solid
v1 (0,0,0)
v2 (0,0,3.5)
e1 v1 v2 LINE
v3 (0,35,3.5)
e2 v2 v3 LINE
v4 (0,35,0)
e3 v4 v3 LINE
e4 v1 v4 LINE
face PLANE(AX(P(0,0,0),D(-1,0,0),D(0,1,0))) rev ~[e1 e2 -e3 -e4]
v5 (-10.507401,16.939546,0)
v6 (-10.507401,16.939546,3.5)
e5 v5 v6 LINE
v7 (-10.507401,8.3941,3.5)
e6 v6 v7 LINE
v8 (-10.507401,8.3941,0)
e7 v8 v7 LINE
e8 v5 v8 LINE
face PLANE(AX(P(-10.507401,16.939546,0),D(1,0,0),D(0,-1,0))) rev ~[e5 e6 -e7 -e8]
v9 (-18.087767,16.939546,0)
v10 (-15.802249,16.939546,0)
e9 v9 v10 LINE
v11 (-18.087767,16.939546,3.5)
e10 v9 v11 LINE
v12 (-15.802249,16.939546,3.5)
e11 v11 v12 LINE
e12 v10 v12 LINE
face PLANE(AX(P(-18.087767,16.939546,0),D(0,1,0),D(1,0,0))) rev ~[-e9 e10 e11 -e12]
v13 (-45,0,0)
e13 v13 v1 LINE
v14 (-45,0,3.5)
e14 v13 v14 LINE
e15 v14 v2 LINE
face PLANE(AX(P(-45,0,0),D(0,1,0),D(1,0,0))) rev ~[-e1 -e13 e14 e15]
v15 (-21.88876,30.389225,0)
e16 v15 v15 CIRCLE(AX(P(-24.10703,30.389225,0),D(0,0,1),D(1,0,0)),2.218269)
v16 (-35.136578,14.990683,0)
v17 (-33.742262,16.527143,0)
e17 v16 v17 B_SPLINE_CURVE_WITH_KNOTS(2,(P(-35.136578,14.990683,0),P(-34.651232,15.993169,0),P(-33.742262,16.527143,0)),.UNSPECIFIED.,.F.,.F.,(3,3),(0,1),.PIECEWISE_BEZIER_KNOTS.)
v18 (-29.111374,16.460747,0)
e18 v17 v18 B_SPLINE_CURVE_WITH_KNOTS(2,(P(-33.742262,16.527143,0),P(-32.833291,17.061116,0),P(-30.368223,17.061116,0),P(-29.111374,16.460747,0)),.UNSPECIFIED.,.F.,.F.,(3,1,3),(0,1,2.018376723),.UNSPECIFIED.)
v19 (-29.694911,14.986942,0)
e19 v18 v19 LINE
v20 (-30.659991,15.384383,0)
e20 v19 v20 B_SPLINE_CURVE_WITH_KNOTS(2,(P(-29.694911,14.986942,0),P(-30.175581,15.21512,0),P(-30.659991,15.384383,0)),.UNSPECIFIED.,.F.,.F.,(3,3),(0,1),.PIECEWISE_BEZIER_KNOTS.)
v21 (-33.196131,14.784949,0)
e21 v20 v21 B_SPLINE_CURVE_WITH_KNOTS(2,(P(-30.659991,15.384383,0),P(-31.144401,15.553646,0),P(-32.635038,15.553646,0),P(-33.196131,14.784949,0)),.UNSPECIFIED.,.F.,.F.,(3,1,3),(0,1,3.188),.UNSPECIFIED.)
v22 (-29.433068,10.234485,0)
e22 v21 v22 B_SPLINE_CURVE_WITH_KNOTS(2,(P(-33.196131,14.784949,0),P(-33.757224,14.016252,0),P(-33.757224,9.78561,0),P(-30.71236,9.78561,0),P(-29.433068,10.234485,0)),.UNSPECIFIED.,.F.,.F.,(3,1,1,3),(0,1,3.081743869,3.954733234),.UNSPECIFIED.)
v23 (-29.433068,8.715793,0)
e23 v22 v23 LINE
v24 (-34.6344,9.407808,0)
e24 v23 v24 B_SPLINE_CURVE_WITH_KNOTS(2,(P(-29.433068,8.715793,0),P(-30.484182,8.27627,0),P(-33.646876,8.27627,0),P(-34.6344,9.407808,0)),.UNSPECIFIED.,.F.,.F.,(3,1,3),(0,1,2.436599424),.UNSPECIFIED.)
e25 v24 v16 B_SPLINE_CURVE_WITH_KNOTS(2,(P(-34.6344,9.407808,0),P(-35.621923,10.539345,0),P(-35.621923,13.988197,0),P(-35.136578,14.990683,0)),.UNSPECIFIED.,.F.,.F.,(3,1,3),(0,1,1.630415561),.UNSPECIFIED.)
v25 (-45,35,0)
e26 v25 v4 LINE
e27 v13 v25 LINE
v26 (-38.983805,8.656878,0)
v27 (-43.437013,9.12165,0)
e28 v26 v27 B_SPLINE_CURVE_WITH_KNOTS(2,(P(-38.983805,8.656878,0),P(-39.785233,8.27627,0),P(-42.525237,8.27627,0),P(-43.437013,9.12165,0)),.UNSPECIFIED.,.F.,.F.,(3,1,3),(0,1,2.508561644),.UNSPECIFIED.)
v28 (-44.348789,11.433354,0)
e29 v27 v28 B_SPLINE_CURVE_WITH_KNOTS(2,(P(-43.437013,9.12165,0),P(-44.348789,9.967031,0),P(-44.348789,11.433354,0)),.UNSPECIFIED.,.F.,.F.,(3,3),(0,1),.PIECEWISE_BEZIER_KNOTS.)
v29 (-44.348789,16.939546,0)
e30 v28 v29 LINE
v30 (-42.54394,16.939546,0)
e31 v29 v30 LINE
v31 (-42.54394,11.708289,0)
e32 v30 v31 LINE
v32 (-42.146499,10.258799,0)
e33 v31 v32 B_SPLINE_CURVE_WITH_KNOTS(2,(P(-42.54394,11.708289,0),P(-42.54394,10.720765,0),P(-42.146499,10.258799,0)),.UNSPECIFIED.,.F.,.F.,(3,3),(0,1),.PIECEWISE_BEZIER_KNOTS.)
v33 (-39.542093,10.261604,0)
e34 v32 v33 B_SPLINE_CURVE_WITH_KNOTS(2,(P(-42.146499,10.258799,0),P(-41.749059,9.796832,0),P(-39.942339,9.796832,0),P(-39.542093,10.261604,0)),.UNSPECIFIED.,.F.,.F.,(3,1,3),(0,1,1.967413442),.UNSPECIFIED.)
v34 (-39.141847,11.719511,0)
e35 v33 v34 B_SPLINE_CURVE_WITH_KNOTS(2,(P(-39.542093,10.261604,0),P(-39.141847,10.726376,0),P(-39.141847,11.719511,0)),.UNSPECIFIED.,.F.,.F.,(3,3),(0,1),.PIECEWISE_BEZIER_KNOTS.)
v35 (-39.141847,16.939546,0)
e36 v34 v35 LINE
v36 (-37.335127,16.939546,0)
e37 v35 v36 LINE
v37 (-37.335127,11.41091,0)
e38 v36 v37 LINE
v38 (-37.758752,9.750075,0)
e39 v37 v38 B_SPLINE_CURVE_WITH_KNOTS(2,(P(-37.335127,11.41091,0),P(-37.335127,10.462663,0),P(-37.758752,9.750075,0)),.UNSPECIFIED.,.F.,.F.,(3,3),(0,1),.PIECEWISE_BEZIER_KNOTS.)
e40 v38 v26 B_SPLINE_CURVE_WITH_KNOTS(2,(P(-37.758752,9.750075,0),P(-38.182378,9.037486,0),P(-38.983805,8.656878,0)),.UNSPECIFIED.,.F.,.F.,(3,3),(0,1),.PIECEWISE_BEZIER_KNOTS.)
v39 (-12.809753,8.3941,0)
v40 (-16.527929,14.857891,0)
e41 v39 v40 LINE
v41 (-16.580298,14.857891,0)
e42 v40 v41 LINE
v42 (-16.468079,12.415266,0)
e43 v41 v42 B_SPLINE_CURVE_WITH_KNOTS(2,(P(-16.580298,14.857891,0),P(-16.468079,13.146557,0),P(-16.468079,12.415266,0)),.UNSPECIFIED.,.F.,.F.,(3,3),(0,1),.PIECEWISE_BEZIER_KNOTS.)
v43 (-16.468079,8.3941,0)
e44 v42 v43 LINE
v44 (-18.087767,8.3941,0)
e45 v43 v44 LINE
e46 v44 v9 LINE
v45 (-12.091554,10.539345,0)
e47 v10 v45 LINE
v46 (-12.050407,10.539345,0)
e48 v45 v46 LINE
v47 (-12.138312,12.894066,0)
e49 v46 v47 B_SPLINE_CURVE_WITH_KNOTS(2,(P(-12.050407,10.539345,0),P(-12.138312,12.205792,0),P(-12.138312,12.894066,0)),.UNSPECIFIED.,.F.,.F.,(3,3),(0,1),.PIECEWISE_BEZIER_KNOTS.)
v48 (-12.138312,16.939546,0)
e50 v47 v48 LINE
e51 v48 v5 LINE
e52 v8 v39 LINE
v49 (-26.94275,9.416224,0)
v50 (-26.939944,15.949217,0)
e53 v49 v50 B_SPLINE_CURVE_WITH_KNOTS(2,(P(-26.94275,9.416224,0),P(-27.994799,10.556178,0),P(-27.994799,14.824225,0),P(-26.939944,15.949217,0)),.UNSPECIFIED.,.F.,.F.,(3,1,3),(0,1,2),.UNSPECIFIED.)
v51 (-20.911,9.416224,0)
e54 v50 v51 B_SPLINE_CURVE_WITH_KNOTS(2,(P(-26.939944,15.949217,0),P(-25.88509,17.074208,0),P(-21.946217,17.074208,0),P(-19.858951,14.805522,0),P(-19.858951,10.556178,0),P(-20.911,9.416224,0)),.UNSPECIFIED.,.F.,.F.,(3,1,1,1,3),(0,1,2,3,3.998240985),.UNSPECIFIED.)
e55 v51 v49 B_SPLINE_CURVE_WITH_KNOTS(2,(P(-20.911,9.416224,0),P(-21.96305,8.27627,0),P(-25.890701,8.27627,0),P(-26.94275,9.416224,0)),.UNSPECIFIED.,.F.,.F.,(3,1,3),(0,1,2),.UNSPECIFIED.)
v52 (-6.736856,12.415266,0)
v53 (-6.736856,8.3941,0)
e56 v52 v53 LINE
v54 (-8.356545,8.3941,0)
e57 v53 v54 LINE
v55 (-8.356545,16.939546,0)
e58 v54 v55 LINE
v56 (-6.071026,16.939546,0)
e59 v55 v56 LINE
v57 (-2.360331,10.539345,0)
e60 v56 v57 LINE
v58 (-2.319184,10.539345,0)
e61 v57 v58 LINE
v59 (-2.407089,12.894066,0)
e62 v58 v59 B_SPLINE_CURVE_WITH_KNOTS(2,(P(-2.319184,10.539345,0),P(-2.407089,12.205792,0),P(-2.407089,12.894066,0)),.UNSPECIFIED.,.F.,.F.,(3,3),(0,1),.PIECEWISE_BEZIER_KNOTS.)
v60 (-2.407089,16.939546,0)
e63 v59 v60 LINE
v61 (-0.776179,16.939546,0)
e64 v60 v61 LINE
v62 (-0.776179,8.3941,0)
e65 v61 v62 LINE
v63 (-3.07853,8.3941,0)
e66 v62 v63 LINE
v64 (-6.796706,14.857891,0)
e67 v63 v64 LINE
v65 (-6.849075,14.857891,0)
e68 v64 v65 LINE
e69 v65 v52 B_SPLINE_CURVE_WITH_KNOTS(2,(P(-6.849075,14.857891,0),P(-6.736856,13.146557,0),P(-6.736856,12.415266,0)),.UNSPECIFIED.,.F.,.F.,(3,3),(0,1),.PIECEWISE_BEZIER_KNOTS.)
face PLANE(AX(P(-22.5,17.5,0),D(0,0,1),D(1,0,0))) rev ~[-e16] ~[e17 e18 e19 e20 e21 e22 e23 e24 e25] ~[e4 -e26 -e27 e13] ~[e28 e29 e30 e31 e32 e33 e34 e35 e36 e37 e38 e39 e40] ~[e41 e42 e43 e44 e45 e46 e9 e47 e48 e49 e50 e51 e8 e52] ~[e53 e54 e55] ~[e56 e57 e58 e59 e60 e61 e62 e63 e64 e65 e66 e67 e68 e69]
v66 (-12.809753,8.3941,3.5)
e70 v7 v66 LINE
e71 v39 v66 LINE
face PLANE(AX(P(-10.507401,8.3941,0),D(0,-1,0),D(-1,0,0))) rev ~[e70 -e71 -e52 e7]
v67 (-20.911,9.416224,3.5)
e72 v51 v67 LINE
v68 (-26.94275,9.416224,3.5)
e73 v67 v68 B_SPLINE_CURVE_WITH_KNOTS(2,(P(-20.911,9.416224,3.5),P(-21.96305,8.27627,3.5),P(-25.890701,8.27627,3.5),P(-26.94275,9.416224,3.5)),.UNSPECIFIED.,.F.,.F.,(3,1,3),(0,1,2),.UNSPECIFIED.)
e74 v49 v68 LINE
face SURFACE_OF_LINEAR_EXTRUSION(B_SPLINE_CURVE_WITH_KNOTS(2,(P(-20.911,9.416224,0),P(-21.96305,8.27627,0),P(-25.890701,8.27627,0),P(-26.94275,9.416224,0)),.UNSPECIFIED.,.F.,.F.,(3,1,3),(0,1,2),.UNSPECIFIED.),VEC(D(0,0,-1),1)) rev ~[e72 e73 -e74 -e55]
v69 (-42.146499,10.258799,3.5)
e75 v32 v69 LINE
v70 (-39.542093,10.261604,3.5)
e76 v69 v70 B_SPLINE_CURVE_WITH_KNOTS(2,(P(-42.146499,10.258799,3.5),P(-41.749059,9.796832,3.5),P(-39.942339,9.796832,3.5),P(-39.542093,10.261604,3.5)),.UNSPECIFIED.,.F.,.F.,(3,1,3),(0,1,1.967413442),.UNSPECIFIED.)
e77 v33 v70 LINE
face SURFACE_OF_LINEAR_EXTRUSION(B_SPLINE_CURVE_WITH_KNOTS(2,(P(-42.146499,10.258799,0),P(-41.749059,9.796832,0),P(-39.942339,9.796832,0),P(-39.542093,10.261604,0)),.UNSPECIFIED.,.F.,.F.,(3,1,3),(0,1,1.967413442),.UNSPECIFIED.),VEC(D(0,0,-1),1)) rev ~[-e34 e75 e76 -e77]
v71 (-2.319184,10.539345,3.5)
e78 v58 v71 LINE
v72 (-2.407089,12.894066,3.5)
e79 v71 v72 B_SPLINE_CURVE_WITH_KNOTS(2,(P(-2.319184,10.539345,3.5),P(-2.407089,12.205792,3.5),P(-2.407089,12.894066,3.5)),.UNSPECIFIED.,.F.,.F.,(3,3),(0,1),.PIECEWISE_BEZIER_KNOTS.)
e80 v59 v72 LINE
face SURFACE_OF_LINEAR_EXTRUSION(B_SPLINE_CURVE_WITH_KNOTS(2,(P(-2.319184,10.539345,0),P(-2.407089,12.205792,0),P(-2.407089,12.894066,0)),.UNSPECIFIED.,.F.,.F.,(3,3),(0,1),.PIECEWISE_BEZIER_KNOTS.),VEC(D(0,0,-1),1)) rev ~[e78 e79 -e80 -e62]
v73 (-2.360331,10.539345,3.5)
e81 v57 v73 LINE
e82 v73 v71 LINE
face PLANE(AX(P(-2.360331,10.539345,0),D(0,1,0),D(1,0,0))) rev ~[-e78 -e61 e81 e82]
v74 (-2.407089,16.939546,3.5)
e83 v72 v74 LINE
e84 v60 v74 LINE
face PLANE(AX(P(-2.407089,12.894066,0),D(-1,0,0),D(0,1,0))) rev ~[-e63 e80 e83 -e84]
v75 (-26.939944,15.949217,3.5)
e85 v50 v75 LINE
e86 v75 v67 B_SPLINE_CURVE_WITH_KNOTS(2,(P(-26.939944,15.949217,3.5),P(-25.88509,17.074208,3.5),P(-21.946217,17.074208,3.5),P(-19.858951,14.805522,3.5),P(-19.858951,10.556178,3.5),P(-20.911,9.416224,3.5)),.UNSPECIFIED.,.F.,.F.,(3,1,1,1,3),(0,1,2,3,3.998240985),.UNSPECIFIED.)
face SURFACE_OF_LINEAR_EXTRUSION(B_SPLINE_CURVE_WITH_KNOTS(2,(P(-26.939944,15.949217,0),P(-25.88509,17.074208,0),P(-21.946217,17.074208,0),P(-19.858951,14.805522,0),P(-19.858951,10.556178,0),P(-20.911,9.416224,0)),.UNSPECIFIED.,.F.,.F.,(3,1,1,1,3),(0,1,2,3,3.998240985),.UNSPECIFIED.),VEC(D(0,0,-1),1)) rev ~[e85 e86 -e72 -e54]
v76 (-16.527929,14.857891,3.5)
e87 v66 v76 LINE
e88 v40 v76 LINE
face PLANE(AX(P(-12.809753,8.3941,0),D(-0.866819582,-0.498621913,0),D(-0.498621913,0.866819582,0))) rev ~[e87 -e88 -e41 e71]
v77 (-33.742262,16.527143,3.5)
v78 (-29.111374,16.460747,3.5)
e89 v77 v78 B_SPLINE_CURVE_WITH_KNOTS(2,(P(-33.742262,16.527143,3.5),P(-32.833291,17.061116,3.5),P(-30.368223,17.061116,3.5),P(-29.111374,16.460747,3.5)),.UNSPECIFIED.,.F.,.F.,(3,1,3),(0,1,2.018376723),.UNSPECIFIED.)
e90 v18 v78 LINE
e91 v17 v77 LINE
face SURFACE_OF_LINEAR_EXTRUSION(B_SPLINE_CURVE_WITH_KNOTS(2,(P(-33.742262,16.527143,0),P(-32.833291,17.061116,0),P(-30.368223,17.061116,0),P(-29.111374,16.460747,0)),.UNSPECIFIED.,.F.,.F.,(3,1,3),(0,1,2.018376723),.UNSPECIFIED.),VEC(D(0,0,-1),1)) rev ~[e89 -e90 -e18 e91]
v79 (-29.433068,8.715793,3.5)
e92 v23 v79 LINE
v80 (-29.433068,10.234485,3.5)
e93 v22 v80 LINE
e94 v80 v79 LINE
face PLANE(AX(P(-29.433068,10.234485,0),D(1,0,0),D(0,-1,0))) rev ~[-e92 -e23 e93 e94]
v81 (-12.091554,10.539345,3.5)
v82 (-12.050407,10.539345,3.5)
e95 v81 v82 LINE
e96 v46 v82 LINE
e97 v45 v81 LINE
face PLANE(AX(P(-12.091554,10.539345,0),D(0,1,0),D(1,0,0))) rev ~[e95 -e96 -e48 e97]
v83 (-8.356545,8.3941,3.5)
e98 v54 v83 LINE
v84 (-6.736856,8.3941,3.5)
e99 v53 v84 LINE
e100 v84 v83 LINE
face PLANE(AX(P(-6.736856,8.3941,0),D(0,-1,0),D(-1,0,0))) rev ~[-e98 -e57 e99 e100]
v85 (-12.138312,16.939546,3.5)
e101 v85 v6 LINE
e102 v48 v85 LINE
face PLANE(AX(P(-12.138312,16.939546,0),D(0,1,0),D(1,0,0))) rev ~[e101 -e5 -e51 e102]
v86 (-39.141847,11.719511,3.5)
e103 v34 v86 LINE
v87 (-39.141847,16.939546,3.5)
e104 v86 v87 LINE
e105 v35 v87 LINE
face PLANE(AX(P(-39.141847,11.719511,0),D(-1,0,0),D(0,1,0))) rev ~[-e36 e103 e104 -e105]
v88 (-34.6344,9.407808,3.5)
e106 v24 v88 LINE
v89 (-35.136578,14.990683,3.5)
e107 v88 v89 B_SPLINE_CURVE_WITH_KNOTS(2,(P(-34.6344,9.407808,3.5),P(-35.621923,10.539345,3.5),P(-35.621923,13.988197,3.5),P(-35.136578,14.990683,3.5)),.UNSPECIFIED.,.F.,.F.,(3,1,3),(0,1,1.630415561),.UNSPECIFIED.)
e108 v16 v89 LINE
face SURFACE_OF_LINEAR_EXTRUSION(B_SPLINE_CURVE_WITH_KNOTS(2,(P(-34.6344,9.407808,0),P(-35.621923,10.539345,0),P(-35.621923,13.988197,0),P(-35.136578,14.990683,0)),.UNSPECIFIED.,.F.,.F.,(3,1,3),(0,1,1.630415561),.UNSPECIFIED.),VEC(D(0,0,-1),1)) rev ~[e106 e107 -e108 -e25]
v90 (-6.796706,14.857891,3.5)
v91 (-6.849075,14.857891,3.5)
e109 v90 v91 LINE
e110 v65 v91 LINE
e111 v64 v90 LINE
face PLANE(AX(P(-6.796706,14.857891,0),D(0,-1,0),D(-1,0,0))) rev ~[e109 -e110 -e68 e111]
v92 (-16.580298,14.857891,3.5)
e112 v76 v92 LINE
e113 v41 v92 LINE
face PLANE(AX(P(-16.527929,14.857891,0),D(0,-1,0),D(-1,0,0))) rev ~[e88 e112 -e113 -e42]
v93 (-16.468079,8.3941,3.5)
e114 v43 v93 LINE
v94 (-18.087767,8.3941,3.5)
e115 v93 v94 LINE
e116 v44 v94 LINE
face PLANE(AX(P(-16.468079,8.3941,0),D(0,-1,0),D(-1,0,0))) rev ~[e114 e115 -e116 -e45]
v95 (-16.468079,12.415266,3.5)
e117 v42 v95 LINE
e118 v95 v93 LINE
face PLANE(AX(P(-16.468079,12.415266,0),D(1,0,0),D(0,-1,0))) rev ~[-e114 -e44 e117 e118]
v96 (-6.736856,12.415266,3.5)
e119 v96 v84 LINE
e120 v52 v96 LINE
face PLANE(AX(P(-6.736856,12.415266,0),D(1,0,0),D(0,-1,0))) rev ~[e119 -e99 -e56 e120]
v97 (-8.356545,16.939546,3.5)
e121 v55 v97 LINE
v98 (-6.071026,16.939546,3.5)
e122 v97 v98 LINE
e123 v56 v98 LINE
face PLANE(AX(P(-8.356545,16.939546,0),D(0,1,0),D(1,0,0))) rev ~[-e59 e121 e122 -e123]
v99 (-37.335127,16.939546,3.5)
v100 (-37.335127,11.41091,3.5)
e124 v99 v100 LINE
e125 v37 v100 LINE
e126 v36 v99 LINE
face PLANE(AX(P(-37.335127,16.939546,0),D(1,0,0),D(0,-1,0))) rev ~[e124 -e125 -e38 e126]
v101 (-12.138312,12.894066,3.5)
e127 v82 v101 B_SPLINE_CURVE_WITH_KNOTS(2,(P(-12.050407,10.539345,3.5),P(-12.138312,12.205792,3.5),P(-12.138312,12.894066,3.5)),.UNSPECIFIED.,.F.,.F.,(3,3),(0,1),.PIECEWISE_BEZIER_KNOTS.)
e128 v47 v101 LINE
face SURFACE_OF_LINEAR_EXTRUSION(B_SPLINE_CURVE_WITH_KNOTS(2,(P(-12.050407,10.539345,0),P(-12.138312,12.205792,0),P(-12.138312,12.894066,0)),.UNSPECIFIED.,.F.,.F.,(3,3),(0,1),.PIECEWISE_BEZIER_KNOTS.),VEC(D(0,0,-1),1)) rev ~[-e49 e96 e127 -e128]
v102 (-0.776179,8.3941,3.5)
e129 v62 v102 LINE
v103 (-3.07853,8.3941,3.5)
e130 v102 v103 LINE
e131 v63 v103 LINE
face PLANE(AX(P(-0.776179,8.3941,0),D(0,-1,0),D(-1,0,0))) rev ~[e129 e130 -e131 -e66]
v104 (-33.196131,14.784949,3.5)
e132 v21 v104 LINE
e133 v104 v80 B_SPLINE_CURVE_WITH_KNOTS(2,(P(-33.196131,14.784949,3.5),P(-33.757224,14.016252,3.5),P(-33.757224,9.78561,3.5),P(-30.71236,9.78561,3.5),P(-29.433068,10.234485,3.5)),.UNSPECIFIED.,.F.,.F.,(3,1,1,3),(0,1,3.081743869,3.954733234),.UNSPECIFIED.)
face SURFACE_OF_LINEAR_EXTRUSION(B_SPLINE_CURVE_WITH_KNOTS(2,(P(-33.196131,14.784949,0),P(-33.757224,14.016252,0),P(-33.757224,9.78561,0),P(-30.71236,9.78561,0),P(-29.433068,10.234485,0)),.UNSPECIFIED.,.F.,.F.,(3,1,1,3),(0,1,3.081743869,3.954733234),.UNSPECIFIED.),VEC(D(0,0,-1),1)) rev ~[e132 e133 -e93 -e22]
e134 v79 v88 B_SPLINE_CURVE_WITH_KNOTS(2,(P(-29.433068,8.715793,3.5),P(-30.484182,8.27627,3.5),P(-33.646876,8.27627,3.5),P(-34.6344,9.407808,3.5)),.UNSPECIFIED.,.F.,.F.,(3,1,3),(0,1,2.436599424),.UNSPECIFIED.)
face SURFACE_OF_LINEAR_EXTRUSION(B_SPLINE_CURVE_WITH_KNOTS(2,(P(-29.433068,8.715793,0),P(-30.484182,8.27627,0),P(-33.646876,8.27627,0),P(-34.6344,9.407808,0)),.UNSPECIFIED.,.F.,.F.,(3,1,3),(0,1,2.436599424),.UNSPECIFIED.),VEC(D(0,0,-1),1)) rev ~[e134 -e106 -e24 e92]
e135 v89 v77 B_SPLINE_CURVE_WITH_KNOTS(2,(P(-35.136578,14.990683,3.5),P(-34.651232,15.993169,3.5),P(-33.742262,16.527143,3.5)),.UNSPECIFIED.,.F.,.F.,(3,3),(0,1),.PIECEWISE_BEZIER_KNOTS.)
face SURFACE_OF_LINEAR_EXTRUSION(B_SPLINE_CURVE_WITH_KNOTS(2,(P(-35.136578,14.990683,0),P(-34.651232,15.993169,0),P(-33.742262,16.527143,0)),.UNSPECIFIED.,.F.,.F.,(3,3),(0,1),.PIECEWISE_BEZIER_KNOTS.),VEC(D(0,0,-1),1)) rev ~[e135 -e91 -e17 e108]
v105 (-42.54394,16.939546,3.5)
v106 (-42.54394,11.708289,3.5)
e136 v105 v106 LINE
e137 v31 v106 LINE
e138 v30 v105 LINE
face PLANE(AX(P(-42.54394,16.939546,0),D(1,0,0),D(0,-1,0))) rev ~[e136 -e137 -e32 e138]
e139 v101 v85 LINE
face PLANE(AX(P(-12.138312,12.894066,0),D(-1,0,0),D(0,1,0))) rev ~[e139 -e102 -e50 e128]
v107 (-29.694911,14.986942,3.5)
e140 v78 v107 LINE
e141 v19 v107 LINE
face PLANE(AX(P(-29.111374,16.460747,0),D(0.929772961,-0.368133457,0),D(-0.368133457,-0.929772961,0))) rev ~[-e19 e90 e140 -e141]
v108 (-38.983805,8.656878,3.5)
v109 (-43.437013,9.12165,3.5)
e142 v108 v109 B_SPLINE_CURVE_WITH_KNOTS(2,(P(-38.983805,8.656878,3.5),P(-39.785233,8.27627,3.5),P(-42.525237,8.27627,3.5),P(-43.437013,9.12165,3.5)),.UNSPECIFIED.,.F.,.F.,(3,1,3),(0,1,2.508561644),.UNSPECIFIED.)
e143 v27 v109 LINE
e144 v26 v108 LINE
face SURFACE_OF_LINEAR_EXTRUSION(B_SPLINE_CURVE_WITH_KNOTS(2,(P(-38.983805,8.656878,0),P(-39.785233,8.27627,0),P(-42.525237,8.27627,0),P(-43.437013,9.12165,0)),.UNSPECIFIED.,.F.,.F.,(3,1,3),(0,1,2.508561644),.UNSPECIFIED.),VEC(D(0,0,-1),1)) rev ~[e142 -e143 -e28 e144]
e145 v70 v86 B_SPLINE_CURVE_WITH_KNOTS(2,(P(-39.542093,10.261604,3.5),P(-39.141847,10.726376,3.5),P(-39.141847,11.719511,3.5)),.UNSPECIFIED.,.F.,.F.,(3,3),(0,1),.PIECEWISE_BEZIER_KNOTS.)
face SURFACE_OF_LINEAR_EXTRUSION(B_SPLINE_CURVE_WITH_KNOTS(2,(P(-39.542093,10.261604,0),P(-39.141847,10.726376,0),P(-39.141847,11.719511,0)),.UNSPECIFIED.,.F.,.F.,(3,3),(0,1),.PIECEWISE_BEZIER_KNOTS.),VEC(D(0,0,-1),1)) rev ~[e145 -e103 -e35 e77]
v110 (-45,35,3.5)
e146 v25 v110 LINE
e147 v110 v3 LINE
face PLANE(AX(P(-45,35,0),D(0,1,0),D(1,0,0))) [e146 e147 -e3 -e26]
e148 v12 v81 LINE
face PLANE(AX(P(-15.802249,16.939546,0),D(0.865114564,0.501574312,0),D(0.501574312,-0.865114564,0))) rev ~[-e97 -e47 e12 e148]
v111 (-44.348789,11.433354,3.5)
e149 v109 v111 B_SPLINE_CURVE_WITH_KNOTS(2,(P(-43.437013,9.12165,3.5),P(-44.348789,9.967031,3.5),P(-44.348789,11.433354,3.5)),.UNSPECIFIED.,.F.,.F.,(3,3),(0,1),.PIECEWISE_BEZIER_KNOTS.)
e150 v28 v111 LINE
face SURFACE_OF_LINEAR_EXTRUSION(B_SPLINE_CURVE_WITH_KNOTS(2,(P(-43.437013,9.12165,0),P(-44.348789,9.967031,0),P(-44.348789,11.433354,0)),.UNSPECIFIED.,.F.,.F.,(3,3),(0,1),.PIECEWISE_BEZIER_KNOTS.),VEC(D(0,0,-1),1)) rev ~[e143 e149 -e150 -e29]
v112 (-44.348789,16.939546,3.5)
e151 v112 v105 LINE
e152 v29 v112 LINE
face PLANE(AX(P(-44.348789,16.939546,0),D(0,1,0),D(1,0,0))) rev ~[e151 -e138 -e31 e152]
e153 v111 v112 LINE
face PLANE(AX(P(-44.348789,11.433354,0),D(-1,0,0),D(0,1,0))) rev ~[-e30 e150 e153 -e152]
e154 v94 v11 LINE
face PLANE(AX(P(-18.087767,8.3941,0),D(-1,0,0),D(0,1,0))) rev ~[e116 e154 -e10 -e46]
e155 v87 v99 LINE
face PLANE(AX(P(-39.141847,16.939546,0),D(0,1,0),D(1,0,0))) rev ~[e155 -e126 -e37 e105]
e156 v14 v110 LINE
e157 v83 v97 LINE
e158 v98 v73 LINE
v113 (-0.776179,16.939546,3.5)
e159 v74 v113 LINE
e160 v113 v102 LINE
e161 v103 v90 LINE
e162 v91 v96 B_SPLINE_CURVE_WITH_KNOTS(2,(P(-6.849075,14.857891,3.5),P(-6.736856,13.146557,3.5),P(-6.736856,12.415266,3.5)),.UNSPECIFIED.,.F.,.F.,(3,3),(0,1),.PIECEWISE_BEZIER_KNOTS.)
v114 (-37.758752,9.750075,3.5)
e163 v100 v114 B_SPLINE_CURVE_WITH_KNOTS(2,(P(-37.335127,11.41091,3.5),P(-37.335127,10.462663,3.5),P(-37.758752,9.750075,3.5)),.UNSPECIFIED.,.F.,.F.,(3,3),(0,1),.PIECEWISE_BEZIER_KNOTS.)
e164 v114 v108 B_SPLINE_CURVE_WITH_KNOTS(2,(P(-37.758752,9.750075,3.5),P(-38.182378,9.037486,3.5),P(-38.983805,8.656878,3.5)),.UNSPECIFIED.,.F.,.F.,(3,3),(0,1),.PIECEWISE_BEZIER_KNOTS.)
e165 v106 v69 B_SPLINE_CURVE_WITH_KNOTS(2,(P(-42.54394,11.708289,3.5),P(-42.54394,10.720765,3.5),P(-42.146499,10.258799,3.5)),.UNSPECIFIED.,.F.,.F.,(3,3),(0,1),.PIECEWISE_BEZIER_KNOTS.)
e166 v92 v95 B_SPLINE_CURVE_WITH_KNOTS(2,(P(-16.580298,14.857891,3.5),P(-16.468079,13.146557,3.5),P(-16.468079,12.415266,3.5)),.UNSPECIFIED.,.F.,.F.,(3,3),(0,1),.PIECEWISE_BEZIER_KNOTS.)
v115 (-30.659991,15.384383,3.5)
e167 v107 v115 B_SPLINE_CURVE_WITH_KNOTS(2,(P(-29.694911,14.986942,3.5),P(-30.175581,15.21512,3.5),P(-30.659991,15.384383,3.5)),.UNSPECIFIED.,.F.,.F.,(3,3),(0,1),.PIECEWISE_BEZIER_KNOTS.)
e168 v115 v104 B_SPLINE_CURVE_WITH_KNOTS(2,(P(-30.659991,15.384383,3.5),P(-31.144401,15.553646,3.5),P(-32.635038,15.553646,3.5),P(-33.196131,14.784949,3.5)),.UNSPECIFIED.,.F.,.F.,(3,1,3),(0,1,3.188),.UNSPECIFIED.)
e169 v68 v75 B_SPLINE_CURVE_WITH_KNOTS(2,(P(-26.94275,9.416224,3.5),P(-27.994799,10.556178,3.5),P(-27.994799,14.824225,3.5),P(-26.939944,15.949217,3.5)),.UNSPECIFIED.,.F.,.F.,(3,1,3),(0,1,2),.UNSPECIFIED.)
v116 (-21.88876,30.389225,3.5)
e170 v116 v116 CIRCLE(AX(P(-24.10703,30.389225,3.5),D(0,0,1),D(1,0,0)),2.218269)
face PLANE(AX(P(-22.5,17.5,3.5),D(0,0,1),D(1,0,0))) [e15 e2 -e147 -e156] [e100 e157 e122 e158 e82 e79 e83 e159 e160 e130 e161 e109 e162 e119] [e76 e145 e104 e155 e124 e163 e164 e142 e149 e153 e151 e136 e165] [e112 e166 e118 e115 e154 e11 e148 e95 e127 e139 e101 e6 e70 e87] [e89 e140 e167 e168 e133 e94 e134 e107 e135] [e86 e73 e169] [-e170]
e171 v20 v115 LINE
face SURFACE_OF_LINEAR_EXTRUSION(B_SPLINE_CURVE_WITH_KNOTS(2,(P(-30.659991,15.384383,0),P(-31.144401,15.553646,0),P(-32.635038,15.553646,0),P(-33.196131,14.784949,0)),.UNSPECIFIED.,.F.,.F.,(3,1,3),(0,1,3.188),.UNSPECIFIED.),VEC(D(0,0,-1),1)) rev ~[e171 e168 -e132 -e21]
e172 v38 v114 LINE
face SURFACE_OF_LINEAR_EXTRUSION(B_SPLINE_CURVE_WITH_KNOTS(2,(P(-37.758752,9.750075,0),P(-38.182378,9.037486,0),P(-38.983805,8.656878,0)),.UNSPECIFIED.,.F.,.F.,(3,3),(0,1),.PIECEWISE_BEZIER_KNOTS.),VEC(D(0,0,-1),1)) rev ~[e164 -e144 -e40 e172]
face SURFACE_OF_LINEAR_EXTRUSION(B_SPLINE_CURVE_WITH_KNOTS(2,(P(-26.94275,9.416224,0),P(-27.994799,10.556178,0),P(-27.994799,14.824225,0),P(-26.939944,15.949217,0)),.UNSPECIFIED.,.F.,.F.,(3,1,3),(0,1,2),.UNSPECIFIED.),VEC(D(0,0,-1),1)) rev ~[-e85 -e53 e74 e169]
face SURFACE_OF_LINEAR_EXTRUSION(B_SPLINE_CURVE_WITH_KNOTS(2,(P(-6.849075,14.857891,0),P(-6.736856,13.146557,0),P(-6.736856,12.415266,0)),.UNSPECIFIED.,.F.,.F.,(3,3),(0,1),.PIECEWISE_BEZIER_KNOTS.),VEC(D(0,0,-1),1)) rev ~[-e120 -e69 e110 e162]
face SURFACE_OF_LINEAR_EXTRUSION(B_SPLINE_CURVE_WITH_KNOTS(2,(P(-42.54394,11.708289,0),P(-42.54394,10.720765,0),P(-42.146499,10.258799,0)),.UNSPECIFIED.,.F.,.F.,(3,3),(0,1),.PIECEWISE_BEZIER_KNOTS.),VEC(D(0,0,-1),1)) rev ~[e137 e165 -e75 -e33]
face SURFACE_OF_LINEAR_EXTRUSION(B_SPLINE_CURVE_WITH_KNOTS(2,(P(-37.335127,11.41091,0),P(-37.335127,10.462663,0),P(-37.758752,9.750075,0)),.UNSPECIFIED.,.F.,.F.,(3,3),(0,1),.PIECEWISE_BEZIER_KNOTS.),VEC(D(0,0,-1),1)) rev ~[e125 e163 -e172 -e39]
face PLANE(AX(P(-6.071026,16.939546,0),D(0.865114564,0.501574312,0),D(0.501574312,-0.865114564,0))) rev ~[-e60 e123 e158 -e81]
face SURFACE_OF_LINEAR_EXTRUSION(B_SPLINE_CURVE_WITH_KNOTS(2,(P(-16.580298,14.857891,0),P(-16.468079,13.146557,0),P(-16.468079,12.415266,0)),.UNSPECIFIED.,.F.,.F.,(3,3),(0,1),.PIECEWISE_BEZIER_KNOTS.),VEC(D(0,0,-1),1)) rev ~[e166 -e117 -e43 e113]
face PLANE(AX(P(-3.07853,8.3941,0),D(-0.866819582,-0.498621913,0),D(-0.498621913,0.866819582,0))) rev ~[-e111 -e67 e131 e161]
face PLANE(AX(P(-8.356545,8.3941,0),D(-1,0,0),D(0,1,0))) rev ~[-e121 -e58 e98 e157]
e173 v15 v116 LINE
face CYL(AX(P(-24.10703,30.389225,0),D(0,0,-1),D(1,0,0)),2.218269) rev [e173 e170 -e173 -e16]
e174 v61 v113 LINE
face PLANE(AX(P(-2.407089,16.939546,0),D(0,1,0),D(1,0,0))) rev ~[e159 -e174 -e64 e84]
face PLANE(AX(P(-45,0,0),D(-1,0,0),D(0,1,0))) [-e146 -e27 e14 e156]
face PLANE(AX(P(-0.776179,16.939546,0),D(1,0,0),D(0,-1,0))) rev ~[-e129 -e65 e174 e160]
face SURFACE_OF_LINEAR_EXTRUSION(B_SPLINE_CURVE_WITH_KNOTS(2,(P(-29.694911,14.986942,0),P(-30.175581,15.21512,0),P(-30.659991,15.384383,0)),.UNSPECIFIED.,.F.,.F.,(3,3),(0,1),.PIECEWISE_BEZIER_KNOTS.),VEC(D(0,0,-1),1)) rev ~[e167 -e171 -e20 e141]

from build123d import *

# Parameters (mm, degrees)
F0_W     = 45
F0_H     = 35
F0_R     = 2.2182693531
F1_DEPTH = 3.5


with BuildPart() as f1:
    # F0 (on Top) → F1 (new body)
    with BuildSketch(Plane.XY):
        with Locations((-22.5, 17.5)):
            Rectangle(F0_W, F0_H)
        with BuildLine():
            Line((-39.1418465407, 16.9395460091), (-37.3351271333, 16.9395460091))
            Line((-37.3351271333, 16.9395460091), (-37.3351271333, 11.41090981))
            add(Edge.make_bspline(
                [(-37.3351271333, 11.41090981), (-37.3351271333, 10.4626626676), (-37.7587523359, 9.7500745783)],
                knots=[0, 0, 0, 1, 1, 1], degree=2))
            add(Edge.make_bspline(
                [(-37.7587523359, 9.7500745783), (-38.1823775386, 9.0374864891), (-38.9838053503, 8.6568784152)],
                knots=[0, 0, 0, 1, 1, 1], degree=2))
            add(Edge.make_bspline(
                [(-38.9838053503, 8.6568784152), (-39.785233162, 8.2762703412), (-40.8774941702, 8.2762703412)],
                knots=[0, 0, 0, 1, 1, 1], degree=2))
            add(Edge.make_bspline(
                [(-40.8774941702, 8.2762703412), (-42.5252372322, 8.2762703412), (-43.4370133307, 9.1216504366)],
                knots=[0, 0, 0, 1, 1, 1], degree=2))
            add(Edge.make_bspline(
                [(-43.4370133307, 9.1216504366), (-44.3487894291, 9.967030532), (-44.3487894291, 11.4333535293)],
                knots=[0, 0, 0, 1, 1, 1], degree=2))
            Line((-44.3487894291, 11.4333535293), (-44.3487894291, 16.9395460091))
            Line((-44.3487894291, 16.9395460091), (-42.5439403317, 16.9395460091))
            Line((-42.5439403317, 16.9395460091), (-42.5439403317, 11.7082890913))
            add(Edge.make_bspline(
                [(-42.5439403317, 11.7082890913), (-42.5439403317, 10.7207654401), (-42.1464994682, 10.2587988835)],
                knots=[0, 0, 0, 1, 1, 1], degree=2))
            add(Edge.make_bspline(
                [(-42.1464994682, 10.2587988835), (-41.7490586048, 9.796832327), (-40.8307364215, 9.796832327)],
                knots=[0, 0, 0, 1, 1, 1], degree=2))
            add(Edge.make_bspline(
                [(-40.8307364215, 9.796832327), (-39.9423391974, 9.796832327), (-39.542092869, 10.2616043485)],
                knots=[0, 0, 0, 1, 1, 1], degree=2))
            add(Edge.make_bspline(
                [(-39.542092869, 10.2616043485), (-39.1418465407, 10.7263763699), (-39.1418465407, 11.719510951)],
                knots=[0, 0, 0, 1, 1, 1], degree=2))
            Line((-39.1418465407, 11.719510951), (-39.1418465407, 16.9395460091))
        make_face(mode=Mode.SUBTRACT)
        with BuildLine():
            add(Edge.make_bspline(
                [(-30.6599909376, 15.3843832893), (-31.1444012135, 15.5536463394), (-31.6119786999, 15.5536463394)],
                knots=[0, 0, 0, 1, 1, 1], degree=2))
            add(Edge.make_bspline(
                [(-31.6119786999, 15.5536463394), (-32.6350382401, 15.5536463394), (-33.1961312237, 14.7849489518)],
                knots=[0, 0, 0, 1, 1, 1], degree=2))
            add(Edge.make_bspline(
                [(-33.1961312237, 14.7849489518), (-33.7572242074, 14.0162515642), (-33.7572242074, 12.6434440641)],
                knots=[0, 0, 0, 1, 1, 1], degree=2))
            add(Edge.make_bspline(
                [(-33.7572242074, 12.6434440641), (-33.7572242074, 9.7856104673), (-31.6119786999, 9.7856104673)],
                knots=[0, 0, 0, 1, 1, 1], degree=2))
            add(Edge.make_bspline(
                [(-31.6119786999, 9.7856104673), (-30.712359616, 9.7856104673), (-29.4330676133, 10.2344848542)],
                knots=[0, 0, 0, 1, 1, 1], degree=2))
            Line((-29.4330676133, 10.2344848542), (-29.4330676133, 8.7157931784))
            add(Edge.make_bspline(
                [(-29.4330676133, 8.7157931784), (-30.4841818027, 8.2762703412), (-31.7821769049, 8.2762703412)],
                knots=[0, 0, 0, 1, 1, 1], degree=2))
            add(Edge.make_bspline(
                [(-31.7821769049, 8.2762703412), (-33.6468759206, 8.2762703412), (-34.6343995719, 9.4078078583)],
                knots=[0, 0, 0, 1, 1, 1], degree=2))
            add(Edge.make_bspline(
                [(-34.6343995719, 9.4078078583), (-35.6219232231, 10.5393453754), (-35.6219232231, 12.6546659238)],
                knots=[0, 0, 0, 1, 1, 1], degree=2))
            add(Edge.make_bspline(
                [(-35.6219232231, 12.6546659238), (-35.6219232231, 13.988196915), (-35.1365777923, 14.9906830458)],
                knots=[0, 0, 0, 1, 1, 1], degree=2))
            add(Edge.make_bspline(
                [(-35.1365777923, 14.9906830458), (-34.6512323614, 15.9931691766), (-33.7422617278, 16.5271426661)],
                knots=[0, 0, 0, 1, 1, 1], degree=2))
            add(Edge.make_bspline(
                [(-33.7422617278, 16.5271426661), (-32.8332910943, 17.0611161555), (-31.6119786999, 17.0611161555)],
                knots=[0, 0, 0, 1, 1, 1], degree=2))
            add(Edge.make_bspline(
                [(-31.6119786999, 17.0611161555), (-30.3682225861, 17.0611161555), (-29.1113743026, 16.460746663)],
                knots=[0, 0, 0, 1, 1, 1], degree=2))
            Line((-29.1113743026, 16.460746663), (-29.6949110057, 14.9869424259))
            add(Edge.make_bspline(
                [(-29.6949110057, 14.9869424259), (-30.1755806617, 15.2151202393), (-30.6599909376, 15.3843832893)],
                knots=[0, 0, 0, 1, 1, 1], degree=2))
        make_face(mode=Mode.SUBTRACT)
        with BuildLine():
            add(Edge.make_bspline(
                [(-20.9025839516, 15.9398653432), (-19.858951002, 14.8055223612), (-19.858951002, 12.6789799531)],
                knots=[0, 0, 0, 1, 1, 1], degree=2))
            add(Edge.make_bspline(
                [(-19.858951002, 12.6789799531), (-19.858951002, 10.5561781649), (-20.9110003463, 9.4162242531)],
                knots=[0, 0, 0, 1, 1, 1], degree=2))
            add(Edge.make_bspline(
                [(-20.9110003463, 9.4162242531), (-21.9630496907, 8.2762703412), (-23.9268751335, 8.2762703412)],
                knots=[0, 0, 0, 1, 1, 1], degree=2))
            add(Edge.make_bspline(
                [(-23.9268751335, 8.2762703412), (-25.8907005764, 8.2762703412), (-26.9427499208, 9.4162242531)],
                knots=[0, 0, 0, 1, 1, 1], degree=2))
            add(Edge.make_bspline(
                [(-26.9427499208, 9.4162242531), (-27.9947992651, 10.5561781649), (-27.9947992651, 12.6902018128)],
                knots=[0, 0, 0, 1, 1, 1], degree=2))
            add(Edge.make_bspline(
                [(-27.9947992651, 12.6902018128), (-27.9947992651, 14.8242254606), (-26.9399444558, 15.9492168929)],
                knots=[0, 0, 0, 1, 1, 1], degree=2))
            add(Edge.make_bspline(
                [(-26.9399444558, 15.9492168929), (-25.8850896466, 17.0742083252), (-23.9156532739, 17.0742083252)],
                knots=[0, 0, 0, 1, 1, 1], degree=2))
            add(Edge.make_bspline(
                [(-23.9156532739, 17.0742083252), (-21.9462169012, 17.0742083252), (-20.9025839516, 15.9398653432)],
                knots=[0, 0, 0, 1, 1, 1], degree=2))
        make_face(mode=Mode.SUBTRACT)
        with BuildLine():
            Line((-10.5074012742, 16.9395460091), (-10.5074012742, 8.3940998678))
            Line((-10.5074012742, 8.3940998678), (-12.8097528171, 8.3940998678))
            Line((-12.8097528171, 8.3940998678), (-16.5279289889, 14.8578910397))
            Line((-16.5279289889, 14.8578910397), (-16.5802976674, 14.8578910397))
            add(Edge.make_bspline(
                [(-16.5802976674, 14.8578910397), (-16.4680790707, 13.1465574395), (-16.4680790707, 12.4152662508)],
                knots=[0, 0, 0, 1, 1, 1], degree=2))
            Line((-16.4680790707, 12.4152662508), (-16.4680790707, 8.3940998678))
            Line((-16.4680790707, 8.3940998678), (-18.0877674835, 8.3940998678))
            Line((-18.0877674835, 8.3940998678), (-18.0877674835, 16.9395460091))
            Line((-18.0877674835, 16.9395460091), (-15.80224873, 16.9395460091))
            Line((-15.80224873, 16.9395460091), (-12.091553798, 10.5393453754))
            Line((-12.091553798, 10.5393453754), (-12.0504069792, 10.5393453754))
            add(Edge.make_bspline(
                [(-12.0504069792, 10.5393453754), (-12.1383115467, 12.2057915369), (-12.1383115467, 12.8940655968)],
                knots=[0, 0, 0, 1, 1, 1], degree=2))
            Line((-12.1383115467, 12.8940655968), (-12.1383115467, 16.9395460091))
            Line((-12.1383115467, 16.9395460091), (-10.5074012742, 16.9395460091))
        make_face(mode=Mode.SUBTRACT)
        with BuildLine():
            Line((-0.7761786274, 16.9395460091), (-0.7761786274, 8.3940998678))
            Line((-0.7761786274, 8.3940998678), (-3.0785301704, 8.3940998678))
            Line((-3.0785301704, 8.3940998678), (-6.7967063422, 14.8578910397))
            Line((-6.7967063422, 14.8578910397), (-6.8490750206, 14.8578910397))
            add(Edge.make_bspline(
                [(-6.8490750206, 14.8578910397), (-6.7368564239, 13.1465574395), (-6.7368564239, 12.4152662508)],
                knots=[0, 0, 0, 1, 1, 1], degree=2))
            Line((-6.7368564239, 12.4152662508), (-6.7368564239, 8.3940998678))
            Line((-6.7368564239, 8.3940998678), (-8.3565448368, 8.3940998678))
            Line((-8.3565448368, 8.3940998678), (-8.3565448368, 16.9395460091))
            Line((-8.3565448368, 16.9395460091), (-6.0710260833, 16.9395460091))
            Line((-6.0710260833, 16.9395460091), (-2.3603311513, 10.5393453754))
            Line((-2.3603311513, 10.5393453754), (-2.3191843325, 10.5393453754))
            add(Edge.make_bspline(
                [(-2.3191843325, 10.5393453754), (-2.4070888999, 12.2057915369), (-2.4070888999, 12.8940655968)],
                knots=[0, 0, 0, 1, 1, 1], degree=2))
            Line((-2.4070888999, 12.8940655968), (-2.4070888999, 16.9395460091))
            Line((-2.4070888999, 16.9395460091), (-0.7761786274, 16.9395460091))
        make_face(mode=Mode.SUBTRACT)
        with Locations((-24.1070296615, 30.3892251104)):
            Circle(F0_R, mode=Mode.SUBTRACT)
    extrude(amount=F1_DEPTH)


solid = f1.part
